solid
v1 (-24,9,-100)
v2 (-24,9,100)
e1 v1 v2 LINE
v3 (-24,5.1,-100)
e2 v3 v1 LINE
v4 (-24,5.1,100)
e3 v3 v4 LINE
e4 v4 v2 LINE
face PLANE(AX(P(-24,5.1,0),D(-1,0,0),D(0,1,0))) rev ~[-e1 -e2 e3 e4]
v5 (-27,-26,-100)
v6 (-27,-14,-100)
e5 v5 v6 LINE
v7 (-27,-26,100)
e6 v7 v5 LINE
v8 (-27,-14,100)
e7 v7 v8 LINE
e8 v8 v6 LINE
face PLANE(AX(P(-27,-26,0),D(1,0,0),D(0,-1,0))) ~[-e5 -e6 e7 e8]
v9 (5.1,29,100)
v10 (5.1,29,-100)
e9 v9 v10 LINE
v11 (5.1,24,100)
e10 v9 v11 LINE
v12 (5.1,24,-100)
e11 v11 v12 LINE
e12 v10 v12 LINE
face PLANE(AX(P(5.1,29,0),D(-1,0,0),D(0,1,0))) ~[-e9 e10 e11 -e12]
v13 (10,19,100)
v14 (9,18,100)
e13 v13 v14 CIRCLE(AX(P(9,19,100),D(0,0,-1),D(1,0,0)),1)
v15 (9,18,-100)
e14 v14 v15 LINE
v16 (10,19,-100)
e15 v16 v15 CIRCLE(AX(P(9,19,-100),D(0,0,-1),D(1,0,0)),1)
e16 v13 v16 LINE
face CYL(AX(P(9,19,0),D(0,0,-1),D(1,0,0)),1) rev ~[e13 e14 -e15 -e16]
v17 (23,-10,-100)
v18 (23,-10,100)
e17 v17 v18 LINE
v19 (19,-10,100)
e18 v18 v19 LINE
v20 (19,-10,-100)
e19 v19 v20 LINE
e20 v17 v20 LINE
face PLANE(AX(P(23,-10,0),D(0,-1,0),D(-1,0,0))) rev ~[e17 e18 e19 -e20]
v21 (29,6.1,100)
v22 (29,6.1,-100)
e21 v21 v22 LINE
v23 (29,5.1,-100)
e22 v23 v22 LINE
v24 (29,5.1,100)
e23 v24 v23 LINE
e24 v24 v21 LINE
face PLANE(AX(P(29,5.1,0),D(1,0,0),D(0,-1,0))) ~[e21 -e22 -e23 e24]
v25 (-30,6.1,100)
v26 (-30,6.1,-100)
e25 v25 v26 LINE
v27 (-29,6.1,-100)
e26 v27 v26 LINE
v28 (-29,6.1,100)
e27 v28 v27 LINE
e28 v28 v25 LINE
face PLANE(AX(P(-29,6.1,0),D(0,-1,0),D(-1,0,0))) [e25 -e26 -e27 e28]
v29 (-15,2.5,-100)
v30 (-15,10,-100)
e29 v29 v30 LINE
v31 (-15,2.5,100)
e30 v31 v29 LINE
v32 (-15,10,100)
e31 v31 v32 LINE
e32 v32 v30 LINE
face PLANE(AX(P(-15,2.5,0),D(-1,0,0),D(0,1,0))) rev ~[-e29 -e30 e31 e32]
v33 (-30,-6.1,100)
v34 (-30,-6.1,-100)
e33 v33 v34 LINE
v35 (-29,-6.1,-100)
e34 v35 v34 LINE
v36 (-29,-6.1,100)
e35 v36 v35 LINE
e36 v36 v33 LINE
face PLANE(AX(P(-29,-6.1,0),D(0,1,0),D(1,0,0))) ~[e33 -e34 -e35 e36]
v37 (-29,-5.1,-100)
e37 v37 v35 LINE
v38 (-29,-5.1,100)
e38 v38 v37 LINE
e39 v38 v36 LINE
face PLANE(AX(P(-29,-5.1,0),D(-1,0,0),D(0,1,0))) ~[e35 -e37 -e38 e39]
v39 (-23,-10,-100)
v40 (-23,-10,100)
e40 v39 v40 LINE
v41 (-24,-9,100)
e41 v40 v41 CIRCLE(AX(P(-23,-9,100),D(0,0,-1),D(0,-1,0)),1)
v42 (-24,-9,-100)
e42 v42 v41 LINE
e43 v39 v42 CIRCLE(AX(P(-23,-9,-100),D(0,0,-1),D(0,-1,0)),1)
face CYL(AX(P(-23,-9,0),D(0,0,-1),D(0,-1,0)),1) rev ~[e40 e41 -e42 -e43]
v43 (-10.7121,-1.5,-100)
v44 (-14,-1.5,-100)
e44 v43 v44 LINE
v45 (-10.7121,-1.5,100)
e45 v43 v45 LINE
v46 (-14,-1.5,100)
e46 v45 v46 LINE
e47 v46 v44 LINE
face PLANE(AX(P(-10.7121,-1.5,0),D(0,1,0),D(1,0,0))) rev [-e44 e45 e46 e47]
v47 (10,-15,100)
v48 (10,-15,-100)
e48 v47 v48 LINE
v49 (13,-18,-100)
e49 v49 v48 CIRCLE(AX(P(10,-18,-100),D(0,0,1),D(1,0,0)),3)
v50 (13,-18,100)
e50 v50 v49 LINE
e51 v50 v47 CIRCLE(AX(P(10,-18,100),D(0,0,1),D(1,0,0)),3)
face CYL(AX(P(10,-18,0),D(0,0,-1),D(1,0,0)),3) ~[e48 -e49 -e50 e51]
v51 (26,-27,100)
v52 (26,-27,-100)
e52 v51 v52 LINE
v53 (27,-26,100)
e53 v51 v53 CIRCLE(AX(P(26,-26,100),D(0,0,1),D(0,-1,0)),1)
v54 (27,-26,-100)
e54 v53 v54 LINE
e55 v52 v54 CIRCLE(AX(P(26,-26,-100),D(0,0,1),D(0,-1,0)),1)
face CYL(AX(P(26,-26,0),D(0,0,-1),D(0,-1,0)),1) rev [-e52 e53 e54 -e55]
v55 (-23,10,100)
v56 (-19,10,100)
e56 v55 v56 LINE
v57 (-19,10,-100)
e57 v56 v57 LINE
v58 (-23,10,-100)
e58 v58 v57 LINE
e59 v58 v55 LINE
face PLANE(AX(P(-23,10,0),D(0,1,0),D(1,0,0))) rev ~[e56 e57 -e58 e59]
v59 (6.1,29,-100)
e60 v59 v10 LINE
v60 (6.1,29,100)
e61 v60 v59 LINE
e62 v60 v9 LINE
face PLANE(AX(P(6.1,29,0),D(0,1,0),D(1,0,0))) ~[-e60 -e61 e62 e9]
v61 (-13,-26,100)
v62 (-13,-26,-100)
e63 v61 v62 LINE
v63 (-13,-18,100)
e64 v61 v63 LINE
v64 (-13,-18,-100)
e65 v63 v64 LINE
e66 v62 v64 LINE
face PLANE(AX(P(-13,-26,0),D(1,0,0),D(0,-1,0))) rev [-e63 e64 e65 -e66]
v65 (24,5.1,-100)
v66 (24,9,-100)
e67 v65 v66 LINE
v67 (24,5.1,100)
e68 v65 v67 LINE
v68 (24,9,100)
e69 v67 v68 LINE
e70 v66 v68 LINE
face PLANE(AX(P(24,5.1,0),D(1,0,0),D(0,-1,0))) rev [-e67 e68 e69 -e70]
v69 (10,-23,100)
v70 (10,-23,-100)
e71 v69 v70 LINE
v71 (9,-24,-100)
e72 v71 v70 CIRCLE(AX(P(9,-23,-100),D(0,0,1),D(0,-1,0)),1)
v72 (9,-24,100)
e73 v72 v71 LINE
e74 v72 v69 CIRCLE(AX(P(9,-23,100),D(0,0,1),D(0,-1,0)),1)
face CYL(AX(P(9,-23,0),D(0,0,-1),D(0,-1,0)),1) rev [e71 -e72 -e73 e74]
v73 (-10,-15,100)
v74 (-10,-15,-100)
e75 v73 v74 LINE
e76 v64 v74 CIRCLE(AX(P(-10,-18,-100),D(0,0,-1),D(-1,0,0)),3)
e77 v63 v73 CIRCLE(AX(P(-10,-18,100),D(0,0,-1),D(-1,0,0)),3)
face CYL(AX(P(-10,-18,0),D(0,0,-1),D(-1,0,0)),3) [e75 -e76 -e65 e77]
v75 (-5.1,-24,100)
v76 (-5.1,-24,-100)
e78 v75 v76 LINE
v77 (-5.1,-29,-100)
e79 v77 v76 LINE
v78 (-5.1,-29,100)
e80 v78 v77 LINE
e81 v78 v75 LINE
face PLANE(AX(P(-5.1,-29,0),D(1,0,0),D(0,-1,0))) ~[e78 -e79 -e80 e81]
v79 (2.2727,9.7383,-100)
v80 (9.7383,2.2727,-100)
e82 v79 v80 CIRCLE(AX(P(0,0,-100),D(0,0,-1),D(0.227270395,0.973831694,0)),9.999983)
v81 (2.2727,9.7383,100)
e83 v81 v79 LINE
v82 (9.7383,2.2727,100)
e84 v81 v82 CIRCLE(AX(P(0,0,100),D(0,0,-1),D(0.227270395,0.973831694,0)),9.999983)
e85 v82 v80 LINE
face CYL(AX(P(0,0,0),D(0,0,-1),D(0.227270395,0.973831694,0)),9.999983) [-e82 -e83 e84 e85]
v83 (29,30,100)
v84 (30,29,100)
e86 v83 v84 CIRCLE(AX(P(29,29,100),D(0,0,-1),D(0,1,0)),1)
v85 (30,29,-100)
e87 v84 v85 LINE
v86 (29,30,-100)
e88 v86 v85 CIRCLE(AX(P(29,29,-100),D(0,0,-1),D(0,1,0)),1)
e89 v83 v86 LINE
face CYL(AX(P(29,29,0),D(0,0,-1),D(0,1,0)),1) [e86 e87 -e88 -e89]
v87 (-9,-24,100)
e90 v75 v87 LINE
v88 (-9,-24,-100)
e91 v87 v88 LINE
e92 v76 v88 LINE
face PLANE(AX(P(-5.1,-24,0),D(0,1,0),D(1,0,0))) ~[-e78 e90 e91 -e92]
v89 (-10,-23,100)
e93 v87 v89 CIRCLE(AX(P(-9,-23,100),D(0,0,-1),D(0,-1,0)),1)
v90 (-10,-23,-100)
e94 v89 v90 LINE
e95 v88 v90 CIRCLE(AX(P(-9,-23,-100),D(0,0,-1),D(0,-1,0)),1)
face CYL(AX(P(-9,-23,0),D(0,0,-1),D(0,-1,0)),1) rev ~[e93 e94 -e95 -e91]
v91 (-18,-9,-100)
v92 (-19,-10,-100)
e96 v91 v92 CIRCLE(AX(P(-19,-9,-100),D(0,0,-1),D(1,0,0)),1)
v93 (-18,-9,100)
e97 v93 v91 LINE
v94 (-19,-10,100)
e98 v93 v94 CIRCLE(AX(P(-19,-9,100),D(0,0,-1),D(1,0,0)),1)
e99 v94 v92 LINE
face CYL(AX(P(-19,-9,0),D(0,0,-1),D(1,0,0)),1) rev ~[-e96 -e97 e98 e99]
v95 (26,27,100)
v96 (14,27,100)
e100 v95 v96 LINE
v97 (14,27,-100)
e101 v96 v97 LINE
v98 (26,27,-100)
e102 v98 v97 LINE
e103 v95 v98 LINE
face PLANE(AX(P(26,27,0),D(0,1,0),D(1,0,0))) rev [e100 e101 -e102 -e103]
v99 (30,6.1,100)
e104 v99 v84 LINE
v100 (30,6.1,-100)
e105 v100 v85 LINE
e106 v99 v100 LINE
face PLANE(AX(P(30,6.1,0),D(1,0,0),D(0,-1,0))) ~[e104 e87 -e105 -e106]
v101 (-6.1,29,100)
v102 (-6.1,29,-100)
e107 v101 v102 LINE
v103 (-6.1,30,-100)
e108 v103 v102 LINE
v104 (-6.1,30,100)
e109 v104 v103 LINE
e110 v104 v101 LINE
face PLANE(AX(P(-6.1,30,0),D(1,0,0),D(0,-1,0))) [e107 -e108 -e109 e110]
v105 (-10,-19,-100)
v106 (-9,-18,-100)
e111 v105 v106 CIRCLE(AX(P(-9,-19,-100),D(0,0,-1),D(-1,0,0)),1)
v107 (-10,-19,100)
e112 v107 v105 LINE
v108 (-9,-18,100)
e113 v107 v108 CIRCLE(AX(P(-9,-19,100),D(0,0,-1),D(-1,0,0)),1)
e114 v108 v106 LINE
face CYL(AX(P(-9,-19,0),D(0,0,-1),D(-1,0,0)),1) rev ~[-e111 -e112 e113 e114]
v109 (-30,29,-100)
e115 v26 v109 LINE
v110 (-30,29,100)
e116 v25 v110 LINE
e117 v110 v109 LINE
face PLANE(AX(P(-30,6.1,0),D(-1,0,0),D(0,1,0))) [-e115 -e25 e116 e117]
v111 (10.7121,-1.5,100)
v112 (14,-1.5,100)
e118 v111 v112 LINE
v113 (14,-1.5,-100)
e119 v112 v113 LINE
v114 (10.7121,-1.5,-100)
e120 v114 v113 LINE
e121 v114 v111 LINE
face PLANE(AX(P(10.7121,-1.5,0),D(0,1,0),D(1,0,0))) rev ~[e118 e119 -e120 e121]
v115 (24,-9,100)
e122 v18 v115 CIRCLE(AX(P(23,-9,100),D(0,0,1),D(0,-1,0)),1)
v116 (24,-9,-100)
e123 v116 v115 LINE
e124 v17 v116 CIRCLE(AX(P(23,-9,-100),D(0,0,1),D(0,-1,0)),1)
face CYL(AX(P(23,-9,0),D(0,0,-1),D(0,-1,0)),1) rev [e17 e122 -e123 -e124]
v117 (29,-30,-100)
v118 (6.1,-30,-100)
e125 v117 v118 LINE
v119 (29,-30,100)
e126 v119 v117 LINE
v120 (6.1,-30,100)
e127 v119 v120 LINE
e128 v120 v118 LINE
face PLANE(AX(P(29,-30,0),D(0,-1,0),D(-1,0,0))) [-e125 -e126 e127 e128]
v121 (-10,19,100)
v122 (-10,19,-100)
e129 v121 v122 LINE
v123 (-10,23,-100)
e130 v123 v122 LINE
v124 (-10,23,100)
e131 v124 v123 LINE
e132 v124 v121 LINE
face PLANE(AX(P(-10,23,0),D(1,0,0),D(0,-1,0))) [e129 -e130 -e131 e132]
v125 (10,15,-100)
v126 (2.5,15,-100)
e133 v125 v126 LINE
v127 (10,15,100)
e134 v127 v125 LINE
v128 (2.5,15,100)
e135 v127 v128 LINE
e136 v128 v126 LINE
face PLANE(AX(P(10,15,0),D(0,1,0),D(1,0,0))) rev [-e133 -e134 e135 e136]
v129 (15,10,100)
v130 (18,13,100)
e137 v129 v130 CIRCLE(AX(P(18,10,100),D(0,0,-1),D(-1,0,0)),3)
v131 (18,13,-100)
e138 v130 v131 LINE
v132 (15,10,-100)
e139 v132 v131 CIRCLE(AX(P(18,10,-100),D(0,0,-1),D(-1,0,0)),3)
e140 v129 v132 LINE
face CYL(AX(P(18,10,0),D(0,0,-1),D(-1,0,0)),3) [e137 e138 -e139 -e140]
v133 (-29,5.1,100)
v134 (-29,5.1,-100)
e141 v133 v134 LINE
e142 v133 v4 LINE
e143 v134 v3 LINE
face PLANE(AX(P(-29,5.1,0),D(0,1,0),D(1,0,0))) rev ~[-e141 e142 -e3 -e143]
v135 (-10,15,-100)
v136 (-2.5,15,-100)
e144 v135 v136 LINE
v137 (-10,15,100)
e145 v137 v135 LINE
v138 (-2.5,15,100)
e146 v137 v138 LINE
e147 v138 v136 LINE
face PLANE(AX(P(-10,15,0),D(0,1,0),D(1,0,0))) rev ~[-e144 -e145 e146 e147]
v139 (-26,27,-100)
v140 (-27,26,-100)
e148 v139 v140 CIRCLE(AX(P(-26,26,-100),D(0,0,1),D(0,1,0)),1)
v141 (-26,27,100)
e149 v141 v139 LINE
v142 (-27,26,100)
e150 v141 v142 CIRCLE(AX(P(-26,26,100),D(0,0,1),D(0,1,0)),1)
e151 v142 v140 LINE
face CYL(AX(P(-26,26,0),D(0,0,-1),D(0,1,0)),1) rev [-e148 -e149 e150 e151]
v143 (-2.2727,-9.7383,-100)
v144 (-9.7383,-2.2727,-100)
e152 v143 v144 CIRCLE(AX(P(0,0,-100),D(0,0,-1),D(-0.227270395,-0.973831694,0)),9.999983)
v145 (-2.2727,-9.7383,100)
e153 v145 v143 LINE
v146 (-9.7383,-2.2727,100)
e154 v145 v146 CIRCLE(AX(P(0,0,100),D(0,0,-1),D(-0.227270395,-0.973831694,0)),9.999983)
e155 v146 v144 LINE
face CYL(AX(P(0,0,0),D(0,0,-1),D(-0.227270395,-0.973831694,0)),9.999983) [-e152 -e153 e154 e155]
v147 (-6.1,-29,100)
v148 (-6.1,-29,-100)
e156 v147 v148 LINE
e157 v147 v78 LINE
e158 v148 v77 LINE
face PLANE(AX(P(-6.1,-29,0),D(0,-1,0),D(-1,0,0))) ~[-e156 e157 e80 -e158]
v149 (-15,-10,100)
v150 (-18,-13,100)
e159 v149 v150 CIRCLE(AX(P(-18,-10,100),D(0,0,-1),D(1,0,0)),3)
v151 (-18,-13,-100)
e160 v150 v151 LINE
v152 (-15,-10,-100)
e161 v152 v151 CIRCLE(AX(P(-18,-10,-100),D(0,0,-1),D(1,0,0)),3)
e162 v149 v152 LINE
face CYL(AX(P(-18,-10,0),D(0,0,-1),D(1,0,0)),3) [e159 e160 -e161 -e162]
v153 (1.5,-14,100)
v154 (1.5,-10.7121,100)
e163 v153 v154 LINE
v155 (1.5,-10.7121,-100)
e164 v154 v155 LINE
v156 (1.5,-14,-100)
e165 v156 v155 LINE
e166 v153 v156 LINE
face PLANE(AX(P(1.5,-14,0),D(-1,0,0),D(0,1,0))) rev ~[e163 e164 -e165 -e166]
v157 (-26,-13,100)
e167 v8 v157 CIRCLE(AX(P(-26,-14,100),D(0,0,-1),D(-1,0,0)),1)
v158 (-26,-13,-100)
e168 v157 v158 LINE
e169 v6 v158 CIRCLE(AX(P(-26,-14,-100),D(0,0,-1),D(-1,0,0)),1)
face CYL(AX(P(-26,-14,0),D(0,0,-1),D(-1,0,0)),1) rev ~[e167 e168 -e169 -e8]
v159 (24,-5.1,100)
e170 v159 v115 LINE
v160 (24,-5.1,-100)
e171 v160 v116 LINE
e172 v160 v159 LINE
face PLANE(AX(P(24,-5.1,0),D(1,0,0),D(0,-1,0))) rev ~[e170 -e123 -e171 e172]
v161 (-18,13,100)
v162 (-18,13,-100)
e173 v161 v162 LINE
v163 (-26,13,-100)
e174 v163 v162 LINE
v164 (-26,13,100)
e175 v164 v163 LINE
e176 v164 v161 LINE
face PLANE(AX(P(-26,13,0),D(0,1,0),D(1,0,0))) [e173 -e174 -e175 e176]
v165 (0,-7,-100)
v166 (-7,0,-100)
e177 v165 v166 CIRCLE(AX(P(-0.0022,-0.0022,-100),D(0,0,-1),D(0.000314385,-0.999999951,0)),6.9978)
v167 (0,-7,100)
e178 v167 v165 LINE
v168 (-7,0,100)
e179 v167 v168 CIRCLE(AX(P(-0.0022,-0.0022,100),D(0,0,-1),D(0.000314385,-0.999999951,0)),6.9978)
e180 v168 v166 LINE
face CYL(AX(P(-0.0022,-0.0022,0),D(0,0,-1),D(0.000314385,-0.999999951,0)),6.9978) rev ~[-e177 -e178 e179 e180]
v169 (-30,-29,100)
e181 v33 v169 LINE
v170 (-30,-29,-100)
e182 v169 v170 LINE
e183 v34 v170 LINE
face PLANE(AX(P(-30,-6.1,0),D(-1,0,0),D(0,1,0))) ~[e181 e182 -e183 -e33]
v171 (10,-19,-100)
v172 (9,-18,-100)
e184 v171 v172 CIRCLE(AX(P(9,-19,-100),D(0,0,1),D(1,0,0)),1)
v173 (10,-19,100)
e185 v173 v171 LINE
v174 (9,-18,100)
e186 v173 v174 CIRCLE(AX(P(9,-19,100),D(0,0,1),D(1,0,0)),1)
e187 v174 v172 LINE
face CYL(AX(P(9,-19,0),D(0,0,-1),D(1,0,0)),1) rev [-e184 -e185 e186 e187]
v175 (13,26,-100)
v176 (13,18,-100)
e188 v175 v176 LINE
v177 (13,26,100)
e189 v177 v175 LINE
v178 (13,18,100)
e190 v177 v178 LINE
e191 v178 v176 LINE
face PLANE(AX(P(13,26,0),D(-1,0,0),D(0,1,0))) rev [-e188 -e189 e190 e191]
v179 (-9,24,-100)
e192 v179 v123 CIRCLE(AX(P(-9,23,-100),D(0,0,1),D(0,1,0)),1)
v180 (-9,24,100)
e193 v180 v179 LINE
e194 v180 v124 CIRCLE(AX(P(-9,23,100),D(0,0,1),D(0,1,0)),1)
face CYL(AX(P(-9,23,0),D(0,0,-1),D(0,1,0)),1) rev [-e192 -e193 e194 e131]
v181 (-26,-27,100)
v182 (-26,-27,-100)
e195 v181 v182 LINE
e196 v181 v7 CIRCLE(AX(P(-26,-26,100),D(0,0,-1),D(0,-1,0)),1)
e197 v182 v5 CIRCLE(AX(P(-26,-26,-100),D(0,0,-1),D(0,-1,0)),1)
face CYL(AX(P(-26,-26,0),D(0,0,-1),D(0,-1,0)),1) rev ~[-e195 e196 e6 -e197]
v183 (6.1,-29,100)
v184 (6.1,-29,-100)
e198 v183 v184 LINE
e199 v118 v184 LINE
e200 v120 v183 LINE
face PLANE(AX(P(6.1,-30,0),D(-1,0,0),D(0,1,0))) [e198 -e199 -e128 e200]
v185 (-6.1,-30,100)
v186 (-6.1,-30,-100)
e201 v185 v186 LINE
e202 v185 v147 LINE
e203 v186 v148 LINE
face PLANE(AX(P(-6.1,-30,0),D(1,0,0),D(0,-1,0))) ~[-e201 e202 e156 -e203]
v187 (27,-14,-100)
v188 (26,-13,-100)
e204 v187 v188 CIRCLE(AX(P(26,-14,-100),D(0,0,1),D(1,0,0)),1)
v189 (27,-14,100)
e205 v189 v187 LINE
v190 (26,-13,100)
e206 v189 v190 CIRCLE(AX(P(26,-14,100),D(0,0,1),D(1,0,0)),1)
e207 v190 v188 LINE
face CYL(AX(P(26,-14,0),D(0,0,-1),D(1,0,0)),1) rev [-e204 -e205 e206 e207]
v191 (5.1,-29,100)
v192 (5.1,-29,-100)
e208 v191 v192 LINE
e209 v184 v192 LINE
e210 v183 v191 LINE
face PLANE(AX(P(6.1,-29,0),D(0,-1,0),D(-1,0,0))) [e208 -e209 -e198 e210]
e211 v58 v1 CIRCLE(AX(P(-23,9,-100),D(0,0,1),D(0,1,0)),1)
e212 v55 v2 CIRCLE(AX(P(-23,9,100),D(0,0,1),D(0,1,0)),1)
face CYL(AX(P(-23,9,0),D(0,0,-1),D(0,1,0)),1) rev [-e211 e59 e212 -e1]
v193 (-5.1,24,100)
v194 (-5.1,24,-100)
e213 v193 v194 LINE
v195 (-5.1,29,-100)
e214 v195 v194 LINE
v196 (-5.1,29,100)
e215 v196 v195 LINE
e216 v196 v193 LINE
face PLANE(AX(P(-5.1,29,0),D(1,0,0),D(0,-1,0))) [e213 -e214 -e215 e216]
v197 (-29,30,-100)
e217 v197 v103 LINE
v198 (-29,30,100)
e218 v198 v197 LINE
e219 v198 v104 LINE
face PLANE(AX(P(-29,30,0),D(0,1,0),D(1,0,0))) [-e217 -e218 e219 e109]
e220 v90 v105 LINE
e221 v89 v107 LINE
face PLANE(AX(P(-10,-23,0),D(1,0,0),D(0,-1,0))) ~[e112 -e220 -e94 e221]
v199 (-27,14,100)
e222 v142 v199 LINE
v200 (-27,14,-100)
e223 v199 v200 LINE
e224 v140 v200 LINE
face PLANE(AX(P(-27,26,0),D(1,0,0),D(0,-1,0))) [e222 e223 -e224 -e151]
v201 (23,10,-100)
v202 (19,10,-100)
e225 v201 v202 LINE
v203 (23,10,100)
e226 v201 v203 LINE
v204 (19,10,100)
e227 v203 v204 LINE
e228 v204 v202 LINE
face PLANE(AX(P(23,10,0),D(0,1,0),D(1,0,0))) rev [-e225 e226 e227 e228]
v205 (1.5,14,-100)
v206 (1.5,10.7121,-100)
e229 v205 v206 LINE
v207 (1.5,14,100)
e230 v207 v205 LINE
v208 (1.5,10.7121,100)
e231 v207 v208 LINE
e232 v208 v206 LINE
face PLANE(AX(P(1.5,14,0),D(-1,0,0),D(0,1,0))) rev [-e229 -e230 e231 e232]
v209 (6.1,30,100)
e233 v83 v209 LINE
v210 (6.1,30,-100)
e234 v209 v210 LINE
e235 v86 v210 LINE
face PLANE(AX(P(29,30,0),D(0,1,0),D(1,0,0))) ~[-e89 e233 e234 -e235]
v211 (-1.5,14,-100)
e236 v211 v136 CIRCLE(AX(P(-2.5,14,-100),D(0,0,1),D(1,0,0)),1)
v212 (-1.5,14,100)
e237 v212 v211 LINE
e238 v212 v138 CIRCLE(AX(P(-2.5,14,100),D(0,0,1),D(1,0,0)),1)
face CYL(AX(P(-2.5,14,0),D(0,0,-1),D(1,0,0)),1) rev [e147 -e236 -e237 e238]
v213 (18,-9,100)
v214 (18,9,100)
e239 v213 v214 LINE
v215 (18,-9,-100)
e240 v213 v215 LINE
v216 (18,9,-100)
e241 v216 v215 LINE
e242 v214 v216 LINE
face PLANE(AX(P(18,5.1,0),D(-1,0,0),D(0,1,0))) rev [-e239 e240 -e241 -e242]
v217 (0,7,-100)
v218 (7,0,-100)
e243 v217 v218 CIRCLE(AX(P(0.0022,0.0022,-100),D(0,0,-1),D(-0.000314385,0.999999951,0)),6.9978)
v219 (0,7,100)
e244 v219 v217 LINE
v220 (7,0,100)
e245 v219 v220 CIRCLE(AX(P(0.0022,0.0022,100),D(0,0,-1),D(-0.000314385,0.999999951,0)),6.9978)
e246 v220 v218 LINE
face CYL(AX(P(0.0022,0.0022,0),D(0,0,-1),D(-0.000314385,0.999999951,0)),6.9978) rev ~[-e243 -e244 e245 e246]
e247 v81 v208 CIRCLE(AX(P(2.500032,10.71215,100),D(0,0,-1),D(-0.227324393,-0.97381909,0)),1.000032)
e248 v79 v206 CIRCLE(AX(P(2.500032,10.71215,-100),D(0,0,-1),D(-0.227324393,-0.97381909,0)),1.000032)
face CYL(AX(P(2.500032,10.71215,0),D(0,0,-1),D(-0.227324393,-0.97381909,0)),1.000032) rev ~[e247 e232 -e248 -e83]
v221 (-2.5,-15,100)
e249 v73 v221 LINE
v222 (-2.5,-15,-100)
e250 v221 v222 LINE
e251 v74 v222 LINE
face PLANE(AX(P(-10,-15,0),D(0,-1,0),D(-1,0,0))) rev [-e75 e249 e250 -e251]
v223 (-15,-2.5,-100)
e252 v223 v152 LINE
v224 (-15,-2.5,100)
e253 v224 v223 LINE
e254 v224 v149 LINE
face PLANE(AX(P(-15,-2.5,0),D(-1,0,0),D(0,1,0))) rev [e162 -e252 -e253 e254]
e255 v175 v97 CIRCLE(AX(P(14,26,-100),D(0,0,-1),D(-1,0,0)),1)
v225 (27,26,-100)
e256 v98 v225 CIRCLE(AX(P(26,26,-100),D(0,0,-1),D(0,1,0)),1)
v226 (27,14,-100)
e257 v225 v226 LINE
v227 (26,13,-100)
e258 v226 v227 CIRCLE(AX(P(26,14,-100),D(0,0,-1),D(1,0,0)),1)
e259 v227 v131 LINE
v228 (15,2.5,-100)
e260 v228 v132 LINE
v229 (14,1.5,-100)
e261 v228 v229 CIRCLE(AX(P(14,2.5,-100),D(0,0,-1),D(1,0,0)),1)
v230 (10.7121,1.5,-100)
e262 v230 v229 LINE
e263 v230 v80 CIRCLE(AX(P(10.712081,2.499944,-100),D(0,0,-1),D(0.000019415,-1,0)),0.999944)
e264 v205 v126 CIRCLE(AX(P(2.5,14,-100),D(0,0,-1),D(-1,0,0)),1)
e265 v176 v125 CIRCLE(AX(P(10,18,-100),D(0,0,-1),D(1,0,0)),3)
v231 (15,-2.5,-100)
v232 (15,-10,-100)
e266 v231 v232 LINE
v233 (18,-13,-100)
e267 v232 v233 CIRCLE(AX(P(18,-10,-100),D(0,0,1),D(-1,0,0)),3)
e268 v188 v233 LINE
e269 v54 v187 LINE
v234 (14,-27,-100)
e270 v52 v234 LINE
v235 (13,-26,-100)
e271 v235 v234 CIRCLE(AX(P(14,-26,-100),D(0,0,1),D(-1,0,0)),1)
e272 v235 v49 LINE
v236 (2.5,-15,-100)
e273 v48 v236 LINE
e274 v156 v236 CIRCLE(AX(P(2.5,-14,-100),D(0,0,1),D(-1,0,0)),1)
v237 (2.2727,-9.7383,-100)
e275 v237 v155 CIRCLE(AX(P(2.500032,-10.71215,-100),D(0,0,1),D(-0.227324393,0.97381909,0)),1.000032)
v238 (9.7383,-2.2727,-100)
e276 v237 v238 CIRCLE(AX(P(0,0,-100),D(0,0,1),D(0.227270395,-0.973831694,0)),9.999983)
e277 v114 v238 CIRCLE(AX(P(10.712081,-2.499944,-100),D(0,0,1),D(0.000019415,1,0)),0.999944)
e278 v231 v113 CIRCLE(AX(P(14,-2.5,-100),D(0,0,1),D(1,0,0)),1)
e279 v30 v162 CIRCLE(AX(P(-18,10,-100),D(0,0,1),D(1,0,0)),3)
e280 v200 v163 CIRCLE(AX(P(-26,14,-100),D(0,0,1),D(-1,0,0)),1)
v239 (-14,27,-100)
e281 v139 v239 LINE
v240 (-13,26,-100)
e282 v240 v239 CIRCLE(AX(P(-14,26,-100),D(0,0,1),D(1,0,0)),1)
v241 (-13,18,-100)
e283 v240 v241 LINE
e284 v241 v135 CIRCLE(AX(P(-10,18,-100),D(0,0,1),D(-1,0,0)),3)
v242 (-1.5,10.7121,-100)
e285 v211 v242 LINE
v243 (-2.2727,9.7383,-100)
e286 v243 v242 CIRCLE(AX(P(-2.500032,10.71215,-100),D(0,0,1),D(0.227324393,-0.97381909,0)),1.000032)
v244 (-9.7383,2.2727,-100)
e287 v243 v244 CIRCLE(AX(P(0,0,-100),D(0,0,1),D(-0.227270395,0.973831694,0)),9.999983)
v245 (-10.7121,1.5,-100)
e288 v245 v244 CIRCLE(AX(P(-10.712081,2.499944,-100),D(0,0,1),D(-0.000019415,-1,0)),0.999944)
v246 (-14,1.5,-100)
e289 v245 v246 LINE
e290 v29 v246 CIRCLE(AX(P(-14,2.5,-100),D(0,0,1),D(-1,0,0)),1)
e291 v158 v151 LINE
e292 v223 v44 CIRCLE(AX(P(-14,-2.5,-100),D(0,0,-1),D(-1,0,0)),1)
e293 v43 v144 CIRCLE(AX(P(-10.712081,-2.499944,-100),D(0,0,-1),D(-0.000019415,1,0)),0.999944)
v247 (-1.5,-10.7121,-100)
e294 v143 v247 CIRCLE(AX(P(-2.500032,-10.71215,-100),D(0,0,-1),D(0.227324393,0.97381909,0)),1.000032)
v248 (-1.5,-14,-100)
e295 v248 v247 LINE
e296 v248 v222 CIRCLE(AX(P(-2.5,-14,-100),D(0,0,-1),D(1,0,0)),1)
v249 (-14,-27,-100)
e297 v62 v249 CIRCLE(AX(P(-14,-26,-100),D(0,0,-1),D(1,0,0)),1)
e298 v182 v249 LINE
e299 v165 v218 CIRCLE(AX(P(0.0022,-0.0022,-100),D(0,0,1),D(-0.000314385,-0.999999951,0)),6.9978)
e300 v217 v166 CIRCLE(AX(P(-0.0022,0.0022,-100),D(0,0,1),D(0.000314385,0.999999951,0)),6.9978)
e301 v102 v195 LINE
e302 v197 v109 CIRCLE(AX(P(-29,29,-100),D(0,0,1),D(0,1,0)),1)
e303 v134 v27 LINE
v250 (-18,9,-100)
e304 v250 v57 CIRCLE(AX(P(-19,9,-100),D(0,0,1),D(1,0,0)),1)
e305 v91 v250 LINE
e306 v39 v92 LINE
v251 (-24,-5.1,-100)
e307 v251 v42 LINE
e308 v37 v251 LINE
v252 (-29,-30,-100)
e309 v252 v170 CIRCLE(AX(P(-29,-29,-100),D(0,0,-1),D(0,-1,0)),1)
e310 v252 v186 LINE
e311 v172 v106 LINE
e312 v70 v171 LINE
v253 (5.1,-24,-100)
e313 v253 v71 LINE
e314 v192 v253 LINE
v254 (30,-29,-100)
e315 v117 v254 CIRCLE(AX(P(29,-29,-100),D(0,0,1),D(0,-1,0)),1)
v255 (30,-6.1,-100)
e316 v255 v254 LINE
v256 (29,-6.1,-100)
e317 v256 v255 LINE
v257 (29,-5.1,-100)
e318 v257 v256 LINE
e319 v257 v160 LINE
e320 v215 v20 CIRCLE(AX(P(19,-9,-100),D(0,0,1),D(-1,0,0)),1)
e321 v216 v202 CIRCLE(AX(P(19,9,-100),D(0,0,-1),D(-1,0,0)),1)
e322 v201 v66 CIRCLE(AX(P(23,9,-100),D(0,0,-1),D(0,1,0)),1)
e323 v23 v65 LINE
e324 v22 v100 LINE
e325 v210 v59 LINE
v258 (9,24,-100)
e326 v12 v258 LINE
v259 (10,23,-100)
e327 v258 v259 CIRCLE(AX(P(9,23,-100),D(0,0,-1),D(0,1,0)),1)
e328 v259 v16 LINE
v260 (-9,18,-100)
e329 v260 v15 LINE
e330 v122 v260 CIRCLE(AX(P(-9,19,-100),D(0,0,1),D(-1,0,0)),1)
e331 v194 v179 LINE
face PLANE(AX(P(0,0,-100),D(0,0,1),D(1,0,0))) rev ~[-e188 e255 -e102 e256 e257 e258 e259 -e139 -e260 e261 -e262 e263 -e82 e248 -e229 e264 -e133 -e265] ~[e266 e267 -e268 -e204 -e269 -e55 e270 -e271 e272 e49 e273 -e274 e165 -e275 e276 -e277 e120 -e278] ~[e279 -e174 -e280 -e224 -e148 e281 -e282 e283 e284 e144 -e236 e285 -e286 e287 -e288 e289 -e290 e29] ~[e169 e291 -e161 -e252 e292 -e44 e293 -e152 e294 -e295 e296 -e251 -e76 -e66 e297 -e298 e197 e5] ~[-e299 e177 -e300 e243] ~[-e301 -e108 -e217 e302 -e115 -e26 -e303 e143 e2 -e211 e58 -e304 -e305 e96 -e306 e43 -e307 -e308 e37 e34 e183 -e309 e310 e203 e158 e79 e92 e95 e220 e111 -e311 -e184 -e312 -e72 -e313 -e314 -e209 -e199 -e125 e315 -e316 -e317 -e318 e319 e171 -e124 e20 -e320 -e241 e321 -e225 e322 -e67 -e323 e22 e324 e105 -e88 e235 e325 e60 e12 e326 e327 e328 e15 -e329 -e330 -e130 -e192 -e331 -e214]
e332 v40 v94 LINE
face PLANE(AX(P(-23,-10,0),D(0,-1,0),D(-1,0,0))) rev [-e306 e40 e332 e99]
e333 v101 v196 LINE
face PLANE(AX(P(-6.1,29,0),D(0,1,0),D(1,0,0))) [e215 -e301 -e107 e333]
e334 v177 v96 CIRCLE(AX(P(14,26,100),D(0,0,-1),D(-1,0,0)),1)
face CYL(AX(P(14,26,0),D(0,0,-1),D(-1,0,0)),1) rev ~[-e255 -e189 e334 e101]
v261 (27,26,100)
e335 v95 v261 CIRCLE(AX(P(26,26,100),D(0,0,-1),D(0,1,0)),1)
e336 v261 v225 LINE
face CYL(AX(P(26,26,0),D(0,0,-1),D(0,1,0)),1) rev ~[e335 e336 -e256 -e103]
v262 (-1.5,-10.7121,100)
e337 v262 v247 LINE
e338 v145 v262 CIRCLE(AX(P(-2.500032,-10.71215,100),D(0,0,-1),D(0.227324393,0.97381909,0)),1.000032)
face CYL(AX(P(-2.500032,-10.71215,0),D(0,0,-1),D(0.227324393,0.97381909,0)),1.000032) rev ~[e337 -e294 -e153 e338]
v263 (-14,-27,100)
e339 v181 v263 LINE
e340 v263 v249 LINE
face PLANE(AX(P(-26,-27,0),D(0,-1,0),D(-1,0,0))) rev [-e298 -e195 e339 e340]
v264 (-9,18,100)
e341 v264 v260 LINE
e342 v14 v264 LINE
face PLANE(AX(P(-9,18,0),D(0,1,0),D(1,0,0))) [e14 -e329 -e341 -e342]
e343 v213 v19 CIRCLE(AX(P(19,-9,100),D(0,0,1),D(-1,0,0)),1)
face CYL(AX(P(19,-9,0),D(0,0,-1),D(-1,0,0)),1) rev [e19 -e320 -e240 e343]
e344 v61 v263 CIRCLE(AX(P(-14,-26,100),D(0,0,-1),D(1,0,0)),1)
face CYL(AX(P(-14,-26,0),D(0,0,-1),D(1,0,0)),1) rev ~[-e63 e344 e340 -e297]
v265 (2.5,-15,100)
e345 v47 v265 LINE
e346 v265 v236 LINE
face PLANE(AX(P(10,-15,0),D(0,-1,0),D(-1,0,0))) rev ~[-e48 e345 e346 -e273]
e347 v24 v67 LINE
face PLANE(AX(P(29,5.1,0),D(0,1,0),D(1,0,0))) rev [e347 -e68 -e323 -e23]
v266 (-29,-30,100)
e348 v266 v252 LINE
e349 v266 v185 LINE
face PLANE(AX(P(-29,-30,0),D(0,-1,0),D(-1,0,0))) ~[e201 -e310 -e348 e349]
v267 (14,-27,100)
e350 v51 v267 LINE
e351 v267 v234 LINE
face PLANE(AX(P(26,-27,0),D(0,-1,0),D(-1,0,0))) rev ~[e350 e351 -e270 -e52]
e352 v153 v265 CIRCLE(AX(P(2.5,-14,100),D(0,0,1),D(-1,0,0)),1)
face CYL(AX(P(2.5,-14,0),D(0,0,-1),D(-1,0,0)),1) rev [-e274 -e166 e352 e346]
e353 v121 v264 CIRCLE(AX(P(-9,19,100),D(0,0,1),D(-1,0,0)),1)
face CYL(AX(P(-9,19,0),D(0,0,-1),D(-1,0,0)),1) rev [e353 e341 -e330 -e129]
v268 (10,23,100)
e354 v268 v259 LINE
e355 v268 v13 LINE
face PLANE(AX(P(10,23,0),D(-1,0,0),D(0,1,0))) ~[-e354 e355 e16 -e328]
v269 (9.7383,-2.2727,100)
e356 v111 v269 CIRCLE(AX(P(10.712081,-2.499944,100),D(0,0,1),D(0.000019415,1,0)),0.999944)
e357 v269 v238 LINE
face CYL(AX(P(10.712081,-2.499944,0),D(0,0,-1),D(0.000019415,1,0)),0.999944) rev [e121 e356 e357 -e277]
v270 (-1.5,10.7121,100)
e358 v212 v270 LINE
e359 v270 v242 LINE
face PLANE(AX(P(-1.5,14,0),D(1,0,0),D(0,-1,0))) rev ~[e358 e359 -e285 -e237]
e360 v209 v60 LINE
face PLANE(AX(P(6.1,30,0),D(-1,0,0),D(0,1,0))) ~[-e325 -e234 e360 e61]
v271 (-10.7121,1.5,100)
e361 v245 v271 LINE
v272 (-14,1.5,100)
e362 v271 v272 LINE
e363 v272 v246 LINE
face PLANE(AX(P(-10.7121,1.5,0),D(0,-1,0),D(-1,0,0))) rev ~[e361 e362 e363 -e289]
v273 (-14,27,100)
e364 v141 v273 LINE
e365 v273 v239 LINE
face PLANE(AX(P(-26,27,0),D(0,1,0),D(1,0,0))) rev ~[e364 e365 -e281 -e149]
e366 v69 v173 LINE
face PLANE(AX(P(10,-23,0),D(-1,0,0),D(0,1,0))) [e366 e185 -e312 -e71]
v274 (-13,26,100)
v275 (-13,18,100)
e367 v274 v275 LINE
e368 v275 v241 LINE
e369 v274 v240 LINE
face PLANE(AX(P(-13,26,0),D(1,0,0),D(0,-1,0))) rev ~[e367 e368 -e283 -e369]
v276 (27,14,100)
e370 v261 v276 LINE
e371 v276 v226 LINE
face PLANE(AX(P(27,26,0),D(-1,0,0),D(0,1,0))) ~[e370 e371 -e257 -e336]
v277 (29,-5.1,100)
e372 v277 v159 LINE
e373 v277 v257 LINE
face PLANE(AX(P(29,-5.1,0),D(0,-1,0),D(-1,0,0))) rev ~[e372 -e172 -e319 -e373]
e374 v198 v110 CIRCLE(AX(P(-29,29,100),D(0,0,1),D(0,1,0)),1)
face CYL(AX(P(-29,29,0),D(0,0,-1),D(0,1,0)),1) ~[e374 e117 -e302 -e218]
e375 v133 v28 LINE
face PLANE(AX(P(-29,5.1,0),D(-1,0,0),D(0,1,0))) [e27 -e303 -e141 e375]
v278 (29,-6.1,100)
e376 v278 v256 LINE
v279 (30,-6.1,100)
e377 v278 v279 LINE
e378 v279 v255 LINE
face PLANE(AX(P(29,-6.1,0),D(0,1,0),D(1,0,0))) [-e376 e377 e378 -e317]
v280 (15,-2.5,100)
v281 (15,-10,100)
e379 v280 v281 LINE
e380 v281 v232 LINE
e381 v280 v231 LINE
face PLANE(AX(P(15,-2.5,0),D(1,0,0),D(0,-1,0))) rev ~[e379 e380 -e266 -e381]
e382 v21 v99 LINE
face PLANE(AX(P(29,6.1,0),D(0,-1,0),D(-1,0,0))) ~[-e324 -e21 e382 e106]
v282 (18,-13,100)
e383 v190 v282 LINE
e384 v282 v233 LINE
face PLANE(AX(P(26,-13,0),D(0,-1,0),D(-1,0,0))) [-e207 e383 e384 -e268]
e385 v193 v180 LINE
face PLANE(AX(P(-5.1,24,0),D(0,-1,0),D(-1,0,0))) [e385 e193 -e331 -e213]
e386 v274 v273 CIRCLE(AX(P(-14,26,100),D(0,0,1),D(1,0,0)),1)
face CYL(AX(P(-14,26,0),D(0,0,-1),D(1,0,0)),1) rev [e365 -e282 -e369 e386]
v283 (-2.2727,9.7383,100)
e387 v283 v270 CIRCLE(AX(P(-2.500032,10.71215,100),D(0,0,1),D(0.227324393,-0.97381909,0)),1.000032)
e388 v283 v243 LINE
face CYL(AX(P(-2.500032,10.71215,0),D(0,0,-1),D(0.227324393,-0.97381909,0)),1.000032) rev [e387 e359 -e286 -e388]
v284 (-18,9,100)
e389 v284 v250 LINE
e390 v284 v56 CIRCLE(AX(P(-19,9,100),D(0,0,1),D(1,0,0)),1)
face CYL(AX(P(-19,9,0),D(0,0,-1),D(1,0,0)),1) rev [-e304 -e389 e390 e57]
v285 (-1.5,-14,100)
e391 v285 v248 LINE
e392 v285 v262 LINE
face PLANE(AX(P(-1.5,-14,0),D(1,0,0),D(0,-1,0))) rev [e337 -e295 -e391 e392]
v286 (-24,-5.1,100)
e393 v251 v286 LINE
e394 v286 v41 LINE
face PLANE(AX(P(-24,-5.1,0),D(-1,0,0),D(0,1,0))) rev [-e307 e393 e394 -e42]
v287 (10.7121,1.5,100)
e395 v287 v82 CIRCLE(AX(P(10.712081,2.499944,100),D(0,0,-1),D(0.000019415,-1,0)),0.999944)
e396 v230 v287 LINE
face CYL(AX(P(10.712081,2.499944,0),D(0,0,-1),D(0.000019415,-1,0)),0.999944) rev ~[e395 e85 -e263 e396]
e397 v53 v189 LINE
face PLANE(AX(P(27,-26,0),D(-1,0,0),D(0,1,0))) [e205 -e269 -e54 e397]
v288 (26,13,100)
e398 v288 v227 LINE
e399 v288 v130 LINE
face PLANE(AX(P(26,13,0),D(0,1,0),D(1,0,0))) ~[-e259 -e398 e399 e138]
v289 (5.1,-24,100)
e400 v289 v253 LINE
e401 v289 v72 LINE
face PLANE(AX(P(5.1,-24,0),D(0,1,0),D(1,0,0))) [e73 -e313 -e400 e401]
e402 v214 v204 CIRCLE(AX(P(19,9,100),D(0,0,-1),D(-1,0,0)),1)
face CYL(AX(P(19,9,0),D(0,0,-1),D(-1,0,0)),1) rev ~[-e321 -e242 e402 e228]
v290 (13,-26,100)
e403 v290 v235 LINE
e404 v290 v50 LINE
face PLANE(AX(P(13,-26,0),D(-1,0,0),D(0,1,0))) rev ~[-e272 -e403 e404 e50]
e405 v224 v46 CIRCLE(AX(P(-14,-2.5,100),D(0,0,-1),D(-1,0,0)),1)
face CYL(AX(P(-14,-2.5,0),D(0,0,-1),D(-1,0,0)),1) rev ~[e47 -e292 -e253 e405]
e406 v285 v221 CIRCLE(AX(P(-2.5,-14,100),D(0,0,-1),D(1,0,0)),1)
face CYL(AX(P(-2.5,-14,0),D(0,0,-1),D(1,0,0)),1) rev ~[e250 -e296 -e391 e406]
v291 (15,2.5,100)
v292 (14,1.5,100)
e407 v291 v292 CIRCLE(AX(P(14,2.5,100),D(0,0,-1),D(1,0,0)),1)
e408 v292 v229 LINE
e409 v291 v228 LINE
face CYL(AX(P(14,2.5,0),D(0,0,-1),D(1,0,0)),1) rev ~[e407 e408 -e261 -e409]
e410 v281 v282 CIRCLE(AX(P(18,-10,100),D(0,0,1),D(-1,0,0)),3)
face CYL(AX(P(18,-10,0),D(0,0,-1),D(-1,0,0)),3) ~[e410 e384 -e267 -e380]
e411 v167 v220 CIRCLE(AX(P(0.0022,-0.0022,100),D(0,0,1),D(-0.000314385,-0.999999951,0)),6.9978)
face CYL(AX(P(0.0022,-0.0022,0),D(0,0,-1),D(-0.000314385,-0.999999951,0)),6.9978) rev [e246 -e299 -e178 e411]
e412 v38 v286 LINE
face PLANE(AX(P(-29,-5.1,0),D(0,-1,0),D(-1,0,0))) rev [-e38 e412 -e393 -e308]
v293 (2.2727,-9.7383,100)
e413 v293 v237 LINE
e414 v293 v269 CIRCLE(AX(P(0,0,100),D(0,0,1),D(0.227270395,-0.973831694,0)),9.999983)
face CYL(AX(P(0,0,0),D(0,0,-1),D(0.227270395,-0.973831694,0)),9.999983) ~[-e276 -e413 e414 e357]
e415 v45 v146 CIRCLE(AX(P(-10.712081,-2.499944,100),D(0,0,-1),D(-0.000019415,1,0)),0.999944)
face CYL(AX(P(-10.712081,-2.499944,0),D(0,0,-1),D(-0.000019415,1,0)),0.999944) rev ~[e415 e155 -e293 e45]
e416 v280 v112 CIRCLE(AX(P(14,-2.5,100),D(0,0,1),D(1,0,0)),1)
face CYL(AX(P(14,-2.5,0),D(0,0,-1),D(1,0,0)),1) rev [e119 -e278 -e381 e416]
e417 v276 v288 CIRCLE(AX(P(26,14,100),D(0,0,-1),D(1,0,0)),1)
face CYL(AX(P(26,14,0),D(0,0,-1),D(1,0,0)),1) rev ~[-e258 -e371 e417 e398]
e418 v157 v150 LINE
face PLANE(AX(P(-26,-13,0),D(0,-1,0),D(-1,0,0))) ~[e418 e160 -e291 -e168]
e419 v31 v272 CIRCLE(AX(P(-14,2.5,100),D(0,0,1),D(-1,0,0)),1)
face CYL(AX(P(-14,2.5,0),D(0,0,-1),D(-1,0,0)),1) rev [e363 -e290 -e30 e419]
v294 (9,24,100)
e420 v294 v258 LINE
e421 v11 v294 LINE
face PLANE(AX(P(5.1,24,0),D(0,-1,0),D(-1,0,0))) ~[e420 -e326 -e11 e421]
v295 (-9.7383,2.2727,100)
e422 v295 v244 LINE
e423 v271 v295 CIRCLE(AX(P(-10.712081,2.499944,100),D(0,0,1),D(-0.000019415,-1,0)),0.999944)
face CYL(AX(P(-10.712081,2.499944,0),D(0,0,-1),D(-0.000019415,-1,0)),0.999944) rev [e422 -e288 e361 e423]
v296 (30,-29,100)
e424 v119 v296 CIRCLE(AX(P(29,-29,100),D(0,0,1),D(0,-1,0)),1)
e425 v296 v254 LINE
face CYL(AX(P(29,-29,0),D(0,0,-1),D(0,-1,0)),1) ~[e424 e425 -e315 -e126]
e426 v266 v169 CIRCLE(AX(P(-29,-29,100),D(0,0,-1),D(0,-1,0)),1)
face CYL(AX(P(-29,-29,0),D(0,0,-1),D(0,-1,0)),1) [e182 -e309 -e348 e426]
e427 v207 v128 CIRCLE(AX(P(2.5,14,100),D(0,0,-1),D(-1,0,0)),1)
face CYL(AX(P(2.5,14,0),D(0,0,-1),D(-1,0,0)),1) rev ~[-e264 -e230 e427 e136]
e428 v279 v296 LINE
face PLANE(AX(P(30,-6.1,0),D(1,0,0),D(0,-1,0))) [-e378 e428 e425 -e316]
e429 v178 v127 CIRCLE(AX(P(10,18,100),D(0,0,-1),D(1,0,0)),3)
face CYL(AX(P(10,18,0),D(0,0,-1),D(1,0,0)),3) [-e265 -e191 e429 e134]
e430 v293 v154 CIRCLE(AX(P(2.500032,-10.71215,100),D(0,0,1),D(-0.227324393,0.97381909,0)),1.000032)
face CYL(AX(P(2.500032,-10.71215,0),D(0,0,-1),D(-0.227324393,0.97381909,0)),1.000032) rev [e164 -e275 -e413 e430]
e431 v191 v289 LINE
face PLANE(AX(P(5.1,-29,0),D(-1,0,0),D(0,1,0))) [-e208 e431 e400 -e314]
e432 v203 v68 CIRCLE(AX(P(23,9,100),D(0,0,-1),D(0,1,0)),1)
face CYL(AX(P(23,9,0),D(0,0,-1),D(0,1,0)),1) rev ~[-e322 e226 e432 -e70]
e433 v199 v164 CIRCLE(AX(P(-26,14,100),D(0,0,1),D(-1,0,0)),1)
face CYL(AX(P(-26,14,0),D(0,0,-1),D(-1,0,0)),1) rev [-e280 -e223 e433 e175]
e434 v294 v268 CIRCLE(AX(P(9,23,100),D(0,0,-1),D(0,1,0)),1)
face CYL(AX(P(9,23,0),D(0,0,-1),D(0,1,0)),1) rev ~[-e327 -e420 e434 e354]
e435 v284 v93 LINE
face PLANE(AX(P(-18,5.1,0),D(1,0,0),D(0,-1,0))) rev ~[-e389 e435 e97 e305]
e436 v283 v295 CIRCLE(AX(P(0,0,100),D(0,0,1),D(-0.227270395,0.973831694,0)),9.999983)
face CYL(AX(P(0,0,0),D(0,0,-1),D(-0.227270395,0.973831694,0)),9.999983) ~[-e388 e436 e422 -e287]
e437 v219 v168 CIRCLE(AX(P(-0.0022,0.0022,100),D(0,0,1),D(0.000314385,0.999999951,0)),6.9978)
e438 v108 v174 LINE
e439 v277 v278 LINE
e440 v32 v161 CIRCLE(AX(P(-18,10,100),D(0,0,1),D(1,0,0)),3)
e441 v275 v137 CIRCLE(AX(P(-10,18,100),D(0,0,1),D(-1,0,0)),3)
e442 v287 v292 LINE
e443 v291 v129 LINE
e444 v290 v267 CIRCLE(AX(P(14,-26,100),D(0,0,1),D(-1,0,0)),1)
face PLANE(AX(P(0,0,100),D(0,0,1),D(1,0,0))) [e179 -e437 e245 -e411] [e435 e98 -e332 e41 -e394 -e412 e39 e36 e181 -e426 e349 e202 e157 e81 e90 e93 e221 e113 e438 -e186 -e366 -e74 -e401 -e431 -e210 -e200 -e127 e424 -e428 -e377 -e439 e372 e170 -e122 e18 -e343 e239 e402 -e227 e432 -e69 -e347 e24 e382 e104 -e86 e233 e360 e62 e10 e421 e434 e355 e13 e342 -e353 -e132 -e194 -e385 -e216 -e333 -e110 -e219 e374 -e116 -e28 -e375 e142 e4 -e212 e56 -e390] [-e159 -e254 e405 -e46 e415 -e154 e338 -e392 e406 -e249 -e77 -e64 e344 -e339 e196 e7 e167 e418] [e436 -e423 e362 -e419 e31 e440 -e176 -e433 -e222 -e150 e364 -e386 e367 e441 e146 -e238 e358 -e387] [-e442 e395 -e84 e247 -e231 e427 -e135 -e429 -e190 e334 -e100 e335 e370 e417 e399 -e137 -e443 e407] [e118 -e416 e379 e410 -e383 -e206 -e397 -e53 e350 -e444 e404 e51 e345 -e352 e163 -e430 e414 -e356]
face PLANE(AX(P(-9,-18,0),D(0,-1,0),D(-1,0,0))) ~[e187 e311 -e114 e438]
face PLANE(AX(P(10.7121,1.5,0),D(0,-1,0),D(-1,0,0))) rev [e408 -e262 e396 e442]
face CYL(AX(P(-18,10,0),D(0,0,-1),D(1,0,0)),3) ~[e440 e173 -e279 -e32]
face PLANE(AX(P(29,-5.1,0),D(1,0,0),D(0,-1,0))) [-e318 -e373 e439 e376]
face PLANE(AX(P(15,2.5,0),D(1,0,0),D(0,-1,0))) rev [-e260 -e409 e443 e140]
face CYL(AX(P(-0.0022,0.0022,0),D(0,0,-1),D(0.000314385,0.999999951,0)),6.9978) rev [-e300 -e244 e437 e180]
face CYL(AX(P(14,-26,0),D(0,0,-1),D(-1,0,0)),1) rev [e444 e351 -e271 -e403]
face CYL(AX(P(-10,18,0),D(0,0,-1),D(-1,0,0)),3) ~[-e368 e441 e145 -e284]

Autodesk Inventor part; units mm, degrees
ref_plane "YZ Plane" through (0, 0, 0) normal (1, 0, 0) x (0, 1, 0)
ref_plane "XZ Plane" through (0, 0, 0) normal (0, 1, 0) x (-1, 0, 0)
ref_plane "XY Plane" through (0, 0, 0) normal (0, 0, 1) x (1, 0, 0)
sketch "profile_Sketch" plane through (0, 0, 0) normal (0, 0, 1) x (1, 0, 0)
  line L0 (-30, 30) -> (30, 30) construction
  line L1 (-30, 30) -> (-30, 5.1) construction
  line L2 (-29, 30) -> (-5.1, 30) construction
  line L3 (-5.1, 30) -> (-5.1, 24) construction
  line L4 (-30, 5.1) -> (-24, 5.1) construction
  circle A0 centre (0, 0) radius 7 construction
  line L5 (0, 0) -> (-30, 30) construction
  line L6 (-27, 27) -> (-13, 27) construction
  line L7 (-13, 27) -> (-13, 13) construction
  line L8 (-13, 13) -> (-27, 13) construction
  line L9 (-27, 13) -> (-27, 27) construction
  line L10 (-24, 5.1) -> (-24, 9)
  line L11 (-23, 10) -> (-19, 10)
  line L12 (-18, 9) -> (-18, 5.1)
  line L13 (-18, 5.1) -> (-18, 0)
  circle A1 centre (0, 0) radius 10 construction
  line L14 (-10.7121, 1.5) -> (-14, 1.5)
  line L15 (-27, 13) -> (-18, 13) construction
  line L16 (-5.1, 24) -> (-9, 24)
  line L17 (-10, 23) -> (-10, 19)
  line L18 (0, 30) -> (0, 10) construction
  line L19 (-9, 18) -> (0, 18)
  line L20 (-1.5, 10.7121) -> (-1.5, 14) construction
  arc A2 (-2.2727, 9.7383) -> (-9.7383, 2.2727) centre (0, 0) ccw
  line L21 (-2.5, 15) -> (-10, 15) construction
  line L22 (-13, 27) -> (-13, 18) construction
  line L23 (-15, 2.5) -> (-15, 10)
  arc A3 (-13, 18) -> (-10, 15) centre (-10, 18) ccw
  arc A4 (-15, 10) -> (-18, 13) centre (-18, 10) ccw
  arc A5 (0, 7) -> (-7, 0) centre (-0.0022, 0.0022) ccw
  line L24 (-7, 0) -> (-18, 0)
  line L25 (0, 18) -> (0, 7)
  arc A6 (-26, 27) -> (-27, 26) centre (-26, 26) ccw
  arc A7 (-13, 26) -> (-14, 27) centre (-14, 26) ccw
  line L26 (-26, 27) -> (-14, 27)
  line L27 (-13, 26) -> (-13, 18)
  arc A8 (-27, 14) -> (-26, 13) centre (-26, 14) ccw
  line L28 (-27, 26) -> (-27, 14)
  line L29 (-26, 13) -> (-18, 13)
  arc A9 (-1.5, 14) -> (-2.5, 15) centre (-2.5, 14) ccw
  arc A10 (-2.2727, 9.7383) -> (-1.5, 10.7121) centre (-2.5, 10.7121) ccw
  line L30 (-10, 15) -> (-2.5, 15)
  line L31 (-1.5, 14) -> (-1.5, 10.7121)
  arc A11 (-10.7121, 1.5) -> (-9.7383, 2.2727) centre (-10.7121, 2.5) ccw
  arc A12 (-15, 2.5) -> (-14, 1.5) centre (-14, 2.5) ccw
  arc A13 (-9, 24) -> (-10, 23) centre (-9, 23) ccw
  arc A14 (-10, 19) -> (-9, 18) centre (-9, 19) ccw
  arc A15 (-18, 9) -> (-19, 10) centre (-19, 9) ccw
  line L32 (-30, 5.1) -> (-29, 5.1) construction
  line L33 (-29, 5.1) -> (-29, 6.1)
  line L34 (-29, 6.1) -> (-30, 6.1)
  line L35 (-30, 6.1) -> (-30, 5.1) construction
  line L36 (-29, 5.1) -> (-24, 5.1)
  line L37 (-30, 6.1) -> (-30, 29)
  arc A16 (-29, 30) -> (-30, 29) centre (-29, 29) ccw
  line L38 (-5.1, 30) -> (-6.1, 30) construction
  line L39 (-6.1, 30) -> (-6.1, 29)
  line L40 (-6.1, 29) -> (-5.1, 29)
  line L41 (-5.1, 29) -> (-5.1, 30) construction
  line L42 (-5.1, 29) -> (-5.1, 24)
  line L43 (-29, 30) -> (-6.1, 30)
  arc A17 (-23, 10) -> (-24, 9) centre (-23, 9) ccw
  point P0 (-24, 10)
  point P1 (-18, 10)
  point P2 (-18, 0)
  point P3 (-9.8869, 1.5)
  point P4 (-15, 1.5)
  point P5 (-10, 24)
  point P6 (-10, 18)
  point P7 (-1.5, 9.8869)
  point P8 (-1.5, 15)
  dimension "d0" = 30
  dimension "width" = 60
  dimension "d3" = 24.9
  dimension "d4" = 5.1
  dimension "expessura" = 6
  dimension "d6" = 6
  dimension "d7" = 14
  dimension "d10" = 3
  dimension "d11" = 14
  dimension "d12" = 3
  dimension "d15" = 6
  dimension "d16" = 3
  dimension "d19" = 3
  dimension "d20" = 6
  dimension "d21" = 1.5
  dimension "d22" = 3
  dimension "d23" = 10
  dimension "d24" = 3
  dimension "d25" = 6.9978
  dimension "d26" = 8.5
  dimension "d27" = 11
  dimension "d30" = 1
  dimension "d31" = 1
  dimension "d32" = 1
  dimension "d33" = 1
  dimension "d34" = 1
  dimension "d35" = 1
  dimension "d37" = 1
  dimension "d38" = 1
  dimension "d39" = 1
  dimension "d40" = 1
extrude "profile_Extrusion" add sketch "profile_Sketch" along normal mid plane 200
mirror "Mirror3" about plane through (0, 0, 0) normal (1, 0, 0) of "profile_Extrusion"
mirror "Mirror4" about plane through (0, 0, 0) normal (0, 1, 0) of "profile_Extrusion", "Mirror3"
equation "\"d6\" = expessura"
properties part number "profile_60x60_0001_0001"
